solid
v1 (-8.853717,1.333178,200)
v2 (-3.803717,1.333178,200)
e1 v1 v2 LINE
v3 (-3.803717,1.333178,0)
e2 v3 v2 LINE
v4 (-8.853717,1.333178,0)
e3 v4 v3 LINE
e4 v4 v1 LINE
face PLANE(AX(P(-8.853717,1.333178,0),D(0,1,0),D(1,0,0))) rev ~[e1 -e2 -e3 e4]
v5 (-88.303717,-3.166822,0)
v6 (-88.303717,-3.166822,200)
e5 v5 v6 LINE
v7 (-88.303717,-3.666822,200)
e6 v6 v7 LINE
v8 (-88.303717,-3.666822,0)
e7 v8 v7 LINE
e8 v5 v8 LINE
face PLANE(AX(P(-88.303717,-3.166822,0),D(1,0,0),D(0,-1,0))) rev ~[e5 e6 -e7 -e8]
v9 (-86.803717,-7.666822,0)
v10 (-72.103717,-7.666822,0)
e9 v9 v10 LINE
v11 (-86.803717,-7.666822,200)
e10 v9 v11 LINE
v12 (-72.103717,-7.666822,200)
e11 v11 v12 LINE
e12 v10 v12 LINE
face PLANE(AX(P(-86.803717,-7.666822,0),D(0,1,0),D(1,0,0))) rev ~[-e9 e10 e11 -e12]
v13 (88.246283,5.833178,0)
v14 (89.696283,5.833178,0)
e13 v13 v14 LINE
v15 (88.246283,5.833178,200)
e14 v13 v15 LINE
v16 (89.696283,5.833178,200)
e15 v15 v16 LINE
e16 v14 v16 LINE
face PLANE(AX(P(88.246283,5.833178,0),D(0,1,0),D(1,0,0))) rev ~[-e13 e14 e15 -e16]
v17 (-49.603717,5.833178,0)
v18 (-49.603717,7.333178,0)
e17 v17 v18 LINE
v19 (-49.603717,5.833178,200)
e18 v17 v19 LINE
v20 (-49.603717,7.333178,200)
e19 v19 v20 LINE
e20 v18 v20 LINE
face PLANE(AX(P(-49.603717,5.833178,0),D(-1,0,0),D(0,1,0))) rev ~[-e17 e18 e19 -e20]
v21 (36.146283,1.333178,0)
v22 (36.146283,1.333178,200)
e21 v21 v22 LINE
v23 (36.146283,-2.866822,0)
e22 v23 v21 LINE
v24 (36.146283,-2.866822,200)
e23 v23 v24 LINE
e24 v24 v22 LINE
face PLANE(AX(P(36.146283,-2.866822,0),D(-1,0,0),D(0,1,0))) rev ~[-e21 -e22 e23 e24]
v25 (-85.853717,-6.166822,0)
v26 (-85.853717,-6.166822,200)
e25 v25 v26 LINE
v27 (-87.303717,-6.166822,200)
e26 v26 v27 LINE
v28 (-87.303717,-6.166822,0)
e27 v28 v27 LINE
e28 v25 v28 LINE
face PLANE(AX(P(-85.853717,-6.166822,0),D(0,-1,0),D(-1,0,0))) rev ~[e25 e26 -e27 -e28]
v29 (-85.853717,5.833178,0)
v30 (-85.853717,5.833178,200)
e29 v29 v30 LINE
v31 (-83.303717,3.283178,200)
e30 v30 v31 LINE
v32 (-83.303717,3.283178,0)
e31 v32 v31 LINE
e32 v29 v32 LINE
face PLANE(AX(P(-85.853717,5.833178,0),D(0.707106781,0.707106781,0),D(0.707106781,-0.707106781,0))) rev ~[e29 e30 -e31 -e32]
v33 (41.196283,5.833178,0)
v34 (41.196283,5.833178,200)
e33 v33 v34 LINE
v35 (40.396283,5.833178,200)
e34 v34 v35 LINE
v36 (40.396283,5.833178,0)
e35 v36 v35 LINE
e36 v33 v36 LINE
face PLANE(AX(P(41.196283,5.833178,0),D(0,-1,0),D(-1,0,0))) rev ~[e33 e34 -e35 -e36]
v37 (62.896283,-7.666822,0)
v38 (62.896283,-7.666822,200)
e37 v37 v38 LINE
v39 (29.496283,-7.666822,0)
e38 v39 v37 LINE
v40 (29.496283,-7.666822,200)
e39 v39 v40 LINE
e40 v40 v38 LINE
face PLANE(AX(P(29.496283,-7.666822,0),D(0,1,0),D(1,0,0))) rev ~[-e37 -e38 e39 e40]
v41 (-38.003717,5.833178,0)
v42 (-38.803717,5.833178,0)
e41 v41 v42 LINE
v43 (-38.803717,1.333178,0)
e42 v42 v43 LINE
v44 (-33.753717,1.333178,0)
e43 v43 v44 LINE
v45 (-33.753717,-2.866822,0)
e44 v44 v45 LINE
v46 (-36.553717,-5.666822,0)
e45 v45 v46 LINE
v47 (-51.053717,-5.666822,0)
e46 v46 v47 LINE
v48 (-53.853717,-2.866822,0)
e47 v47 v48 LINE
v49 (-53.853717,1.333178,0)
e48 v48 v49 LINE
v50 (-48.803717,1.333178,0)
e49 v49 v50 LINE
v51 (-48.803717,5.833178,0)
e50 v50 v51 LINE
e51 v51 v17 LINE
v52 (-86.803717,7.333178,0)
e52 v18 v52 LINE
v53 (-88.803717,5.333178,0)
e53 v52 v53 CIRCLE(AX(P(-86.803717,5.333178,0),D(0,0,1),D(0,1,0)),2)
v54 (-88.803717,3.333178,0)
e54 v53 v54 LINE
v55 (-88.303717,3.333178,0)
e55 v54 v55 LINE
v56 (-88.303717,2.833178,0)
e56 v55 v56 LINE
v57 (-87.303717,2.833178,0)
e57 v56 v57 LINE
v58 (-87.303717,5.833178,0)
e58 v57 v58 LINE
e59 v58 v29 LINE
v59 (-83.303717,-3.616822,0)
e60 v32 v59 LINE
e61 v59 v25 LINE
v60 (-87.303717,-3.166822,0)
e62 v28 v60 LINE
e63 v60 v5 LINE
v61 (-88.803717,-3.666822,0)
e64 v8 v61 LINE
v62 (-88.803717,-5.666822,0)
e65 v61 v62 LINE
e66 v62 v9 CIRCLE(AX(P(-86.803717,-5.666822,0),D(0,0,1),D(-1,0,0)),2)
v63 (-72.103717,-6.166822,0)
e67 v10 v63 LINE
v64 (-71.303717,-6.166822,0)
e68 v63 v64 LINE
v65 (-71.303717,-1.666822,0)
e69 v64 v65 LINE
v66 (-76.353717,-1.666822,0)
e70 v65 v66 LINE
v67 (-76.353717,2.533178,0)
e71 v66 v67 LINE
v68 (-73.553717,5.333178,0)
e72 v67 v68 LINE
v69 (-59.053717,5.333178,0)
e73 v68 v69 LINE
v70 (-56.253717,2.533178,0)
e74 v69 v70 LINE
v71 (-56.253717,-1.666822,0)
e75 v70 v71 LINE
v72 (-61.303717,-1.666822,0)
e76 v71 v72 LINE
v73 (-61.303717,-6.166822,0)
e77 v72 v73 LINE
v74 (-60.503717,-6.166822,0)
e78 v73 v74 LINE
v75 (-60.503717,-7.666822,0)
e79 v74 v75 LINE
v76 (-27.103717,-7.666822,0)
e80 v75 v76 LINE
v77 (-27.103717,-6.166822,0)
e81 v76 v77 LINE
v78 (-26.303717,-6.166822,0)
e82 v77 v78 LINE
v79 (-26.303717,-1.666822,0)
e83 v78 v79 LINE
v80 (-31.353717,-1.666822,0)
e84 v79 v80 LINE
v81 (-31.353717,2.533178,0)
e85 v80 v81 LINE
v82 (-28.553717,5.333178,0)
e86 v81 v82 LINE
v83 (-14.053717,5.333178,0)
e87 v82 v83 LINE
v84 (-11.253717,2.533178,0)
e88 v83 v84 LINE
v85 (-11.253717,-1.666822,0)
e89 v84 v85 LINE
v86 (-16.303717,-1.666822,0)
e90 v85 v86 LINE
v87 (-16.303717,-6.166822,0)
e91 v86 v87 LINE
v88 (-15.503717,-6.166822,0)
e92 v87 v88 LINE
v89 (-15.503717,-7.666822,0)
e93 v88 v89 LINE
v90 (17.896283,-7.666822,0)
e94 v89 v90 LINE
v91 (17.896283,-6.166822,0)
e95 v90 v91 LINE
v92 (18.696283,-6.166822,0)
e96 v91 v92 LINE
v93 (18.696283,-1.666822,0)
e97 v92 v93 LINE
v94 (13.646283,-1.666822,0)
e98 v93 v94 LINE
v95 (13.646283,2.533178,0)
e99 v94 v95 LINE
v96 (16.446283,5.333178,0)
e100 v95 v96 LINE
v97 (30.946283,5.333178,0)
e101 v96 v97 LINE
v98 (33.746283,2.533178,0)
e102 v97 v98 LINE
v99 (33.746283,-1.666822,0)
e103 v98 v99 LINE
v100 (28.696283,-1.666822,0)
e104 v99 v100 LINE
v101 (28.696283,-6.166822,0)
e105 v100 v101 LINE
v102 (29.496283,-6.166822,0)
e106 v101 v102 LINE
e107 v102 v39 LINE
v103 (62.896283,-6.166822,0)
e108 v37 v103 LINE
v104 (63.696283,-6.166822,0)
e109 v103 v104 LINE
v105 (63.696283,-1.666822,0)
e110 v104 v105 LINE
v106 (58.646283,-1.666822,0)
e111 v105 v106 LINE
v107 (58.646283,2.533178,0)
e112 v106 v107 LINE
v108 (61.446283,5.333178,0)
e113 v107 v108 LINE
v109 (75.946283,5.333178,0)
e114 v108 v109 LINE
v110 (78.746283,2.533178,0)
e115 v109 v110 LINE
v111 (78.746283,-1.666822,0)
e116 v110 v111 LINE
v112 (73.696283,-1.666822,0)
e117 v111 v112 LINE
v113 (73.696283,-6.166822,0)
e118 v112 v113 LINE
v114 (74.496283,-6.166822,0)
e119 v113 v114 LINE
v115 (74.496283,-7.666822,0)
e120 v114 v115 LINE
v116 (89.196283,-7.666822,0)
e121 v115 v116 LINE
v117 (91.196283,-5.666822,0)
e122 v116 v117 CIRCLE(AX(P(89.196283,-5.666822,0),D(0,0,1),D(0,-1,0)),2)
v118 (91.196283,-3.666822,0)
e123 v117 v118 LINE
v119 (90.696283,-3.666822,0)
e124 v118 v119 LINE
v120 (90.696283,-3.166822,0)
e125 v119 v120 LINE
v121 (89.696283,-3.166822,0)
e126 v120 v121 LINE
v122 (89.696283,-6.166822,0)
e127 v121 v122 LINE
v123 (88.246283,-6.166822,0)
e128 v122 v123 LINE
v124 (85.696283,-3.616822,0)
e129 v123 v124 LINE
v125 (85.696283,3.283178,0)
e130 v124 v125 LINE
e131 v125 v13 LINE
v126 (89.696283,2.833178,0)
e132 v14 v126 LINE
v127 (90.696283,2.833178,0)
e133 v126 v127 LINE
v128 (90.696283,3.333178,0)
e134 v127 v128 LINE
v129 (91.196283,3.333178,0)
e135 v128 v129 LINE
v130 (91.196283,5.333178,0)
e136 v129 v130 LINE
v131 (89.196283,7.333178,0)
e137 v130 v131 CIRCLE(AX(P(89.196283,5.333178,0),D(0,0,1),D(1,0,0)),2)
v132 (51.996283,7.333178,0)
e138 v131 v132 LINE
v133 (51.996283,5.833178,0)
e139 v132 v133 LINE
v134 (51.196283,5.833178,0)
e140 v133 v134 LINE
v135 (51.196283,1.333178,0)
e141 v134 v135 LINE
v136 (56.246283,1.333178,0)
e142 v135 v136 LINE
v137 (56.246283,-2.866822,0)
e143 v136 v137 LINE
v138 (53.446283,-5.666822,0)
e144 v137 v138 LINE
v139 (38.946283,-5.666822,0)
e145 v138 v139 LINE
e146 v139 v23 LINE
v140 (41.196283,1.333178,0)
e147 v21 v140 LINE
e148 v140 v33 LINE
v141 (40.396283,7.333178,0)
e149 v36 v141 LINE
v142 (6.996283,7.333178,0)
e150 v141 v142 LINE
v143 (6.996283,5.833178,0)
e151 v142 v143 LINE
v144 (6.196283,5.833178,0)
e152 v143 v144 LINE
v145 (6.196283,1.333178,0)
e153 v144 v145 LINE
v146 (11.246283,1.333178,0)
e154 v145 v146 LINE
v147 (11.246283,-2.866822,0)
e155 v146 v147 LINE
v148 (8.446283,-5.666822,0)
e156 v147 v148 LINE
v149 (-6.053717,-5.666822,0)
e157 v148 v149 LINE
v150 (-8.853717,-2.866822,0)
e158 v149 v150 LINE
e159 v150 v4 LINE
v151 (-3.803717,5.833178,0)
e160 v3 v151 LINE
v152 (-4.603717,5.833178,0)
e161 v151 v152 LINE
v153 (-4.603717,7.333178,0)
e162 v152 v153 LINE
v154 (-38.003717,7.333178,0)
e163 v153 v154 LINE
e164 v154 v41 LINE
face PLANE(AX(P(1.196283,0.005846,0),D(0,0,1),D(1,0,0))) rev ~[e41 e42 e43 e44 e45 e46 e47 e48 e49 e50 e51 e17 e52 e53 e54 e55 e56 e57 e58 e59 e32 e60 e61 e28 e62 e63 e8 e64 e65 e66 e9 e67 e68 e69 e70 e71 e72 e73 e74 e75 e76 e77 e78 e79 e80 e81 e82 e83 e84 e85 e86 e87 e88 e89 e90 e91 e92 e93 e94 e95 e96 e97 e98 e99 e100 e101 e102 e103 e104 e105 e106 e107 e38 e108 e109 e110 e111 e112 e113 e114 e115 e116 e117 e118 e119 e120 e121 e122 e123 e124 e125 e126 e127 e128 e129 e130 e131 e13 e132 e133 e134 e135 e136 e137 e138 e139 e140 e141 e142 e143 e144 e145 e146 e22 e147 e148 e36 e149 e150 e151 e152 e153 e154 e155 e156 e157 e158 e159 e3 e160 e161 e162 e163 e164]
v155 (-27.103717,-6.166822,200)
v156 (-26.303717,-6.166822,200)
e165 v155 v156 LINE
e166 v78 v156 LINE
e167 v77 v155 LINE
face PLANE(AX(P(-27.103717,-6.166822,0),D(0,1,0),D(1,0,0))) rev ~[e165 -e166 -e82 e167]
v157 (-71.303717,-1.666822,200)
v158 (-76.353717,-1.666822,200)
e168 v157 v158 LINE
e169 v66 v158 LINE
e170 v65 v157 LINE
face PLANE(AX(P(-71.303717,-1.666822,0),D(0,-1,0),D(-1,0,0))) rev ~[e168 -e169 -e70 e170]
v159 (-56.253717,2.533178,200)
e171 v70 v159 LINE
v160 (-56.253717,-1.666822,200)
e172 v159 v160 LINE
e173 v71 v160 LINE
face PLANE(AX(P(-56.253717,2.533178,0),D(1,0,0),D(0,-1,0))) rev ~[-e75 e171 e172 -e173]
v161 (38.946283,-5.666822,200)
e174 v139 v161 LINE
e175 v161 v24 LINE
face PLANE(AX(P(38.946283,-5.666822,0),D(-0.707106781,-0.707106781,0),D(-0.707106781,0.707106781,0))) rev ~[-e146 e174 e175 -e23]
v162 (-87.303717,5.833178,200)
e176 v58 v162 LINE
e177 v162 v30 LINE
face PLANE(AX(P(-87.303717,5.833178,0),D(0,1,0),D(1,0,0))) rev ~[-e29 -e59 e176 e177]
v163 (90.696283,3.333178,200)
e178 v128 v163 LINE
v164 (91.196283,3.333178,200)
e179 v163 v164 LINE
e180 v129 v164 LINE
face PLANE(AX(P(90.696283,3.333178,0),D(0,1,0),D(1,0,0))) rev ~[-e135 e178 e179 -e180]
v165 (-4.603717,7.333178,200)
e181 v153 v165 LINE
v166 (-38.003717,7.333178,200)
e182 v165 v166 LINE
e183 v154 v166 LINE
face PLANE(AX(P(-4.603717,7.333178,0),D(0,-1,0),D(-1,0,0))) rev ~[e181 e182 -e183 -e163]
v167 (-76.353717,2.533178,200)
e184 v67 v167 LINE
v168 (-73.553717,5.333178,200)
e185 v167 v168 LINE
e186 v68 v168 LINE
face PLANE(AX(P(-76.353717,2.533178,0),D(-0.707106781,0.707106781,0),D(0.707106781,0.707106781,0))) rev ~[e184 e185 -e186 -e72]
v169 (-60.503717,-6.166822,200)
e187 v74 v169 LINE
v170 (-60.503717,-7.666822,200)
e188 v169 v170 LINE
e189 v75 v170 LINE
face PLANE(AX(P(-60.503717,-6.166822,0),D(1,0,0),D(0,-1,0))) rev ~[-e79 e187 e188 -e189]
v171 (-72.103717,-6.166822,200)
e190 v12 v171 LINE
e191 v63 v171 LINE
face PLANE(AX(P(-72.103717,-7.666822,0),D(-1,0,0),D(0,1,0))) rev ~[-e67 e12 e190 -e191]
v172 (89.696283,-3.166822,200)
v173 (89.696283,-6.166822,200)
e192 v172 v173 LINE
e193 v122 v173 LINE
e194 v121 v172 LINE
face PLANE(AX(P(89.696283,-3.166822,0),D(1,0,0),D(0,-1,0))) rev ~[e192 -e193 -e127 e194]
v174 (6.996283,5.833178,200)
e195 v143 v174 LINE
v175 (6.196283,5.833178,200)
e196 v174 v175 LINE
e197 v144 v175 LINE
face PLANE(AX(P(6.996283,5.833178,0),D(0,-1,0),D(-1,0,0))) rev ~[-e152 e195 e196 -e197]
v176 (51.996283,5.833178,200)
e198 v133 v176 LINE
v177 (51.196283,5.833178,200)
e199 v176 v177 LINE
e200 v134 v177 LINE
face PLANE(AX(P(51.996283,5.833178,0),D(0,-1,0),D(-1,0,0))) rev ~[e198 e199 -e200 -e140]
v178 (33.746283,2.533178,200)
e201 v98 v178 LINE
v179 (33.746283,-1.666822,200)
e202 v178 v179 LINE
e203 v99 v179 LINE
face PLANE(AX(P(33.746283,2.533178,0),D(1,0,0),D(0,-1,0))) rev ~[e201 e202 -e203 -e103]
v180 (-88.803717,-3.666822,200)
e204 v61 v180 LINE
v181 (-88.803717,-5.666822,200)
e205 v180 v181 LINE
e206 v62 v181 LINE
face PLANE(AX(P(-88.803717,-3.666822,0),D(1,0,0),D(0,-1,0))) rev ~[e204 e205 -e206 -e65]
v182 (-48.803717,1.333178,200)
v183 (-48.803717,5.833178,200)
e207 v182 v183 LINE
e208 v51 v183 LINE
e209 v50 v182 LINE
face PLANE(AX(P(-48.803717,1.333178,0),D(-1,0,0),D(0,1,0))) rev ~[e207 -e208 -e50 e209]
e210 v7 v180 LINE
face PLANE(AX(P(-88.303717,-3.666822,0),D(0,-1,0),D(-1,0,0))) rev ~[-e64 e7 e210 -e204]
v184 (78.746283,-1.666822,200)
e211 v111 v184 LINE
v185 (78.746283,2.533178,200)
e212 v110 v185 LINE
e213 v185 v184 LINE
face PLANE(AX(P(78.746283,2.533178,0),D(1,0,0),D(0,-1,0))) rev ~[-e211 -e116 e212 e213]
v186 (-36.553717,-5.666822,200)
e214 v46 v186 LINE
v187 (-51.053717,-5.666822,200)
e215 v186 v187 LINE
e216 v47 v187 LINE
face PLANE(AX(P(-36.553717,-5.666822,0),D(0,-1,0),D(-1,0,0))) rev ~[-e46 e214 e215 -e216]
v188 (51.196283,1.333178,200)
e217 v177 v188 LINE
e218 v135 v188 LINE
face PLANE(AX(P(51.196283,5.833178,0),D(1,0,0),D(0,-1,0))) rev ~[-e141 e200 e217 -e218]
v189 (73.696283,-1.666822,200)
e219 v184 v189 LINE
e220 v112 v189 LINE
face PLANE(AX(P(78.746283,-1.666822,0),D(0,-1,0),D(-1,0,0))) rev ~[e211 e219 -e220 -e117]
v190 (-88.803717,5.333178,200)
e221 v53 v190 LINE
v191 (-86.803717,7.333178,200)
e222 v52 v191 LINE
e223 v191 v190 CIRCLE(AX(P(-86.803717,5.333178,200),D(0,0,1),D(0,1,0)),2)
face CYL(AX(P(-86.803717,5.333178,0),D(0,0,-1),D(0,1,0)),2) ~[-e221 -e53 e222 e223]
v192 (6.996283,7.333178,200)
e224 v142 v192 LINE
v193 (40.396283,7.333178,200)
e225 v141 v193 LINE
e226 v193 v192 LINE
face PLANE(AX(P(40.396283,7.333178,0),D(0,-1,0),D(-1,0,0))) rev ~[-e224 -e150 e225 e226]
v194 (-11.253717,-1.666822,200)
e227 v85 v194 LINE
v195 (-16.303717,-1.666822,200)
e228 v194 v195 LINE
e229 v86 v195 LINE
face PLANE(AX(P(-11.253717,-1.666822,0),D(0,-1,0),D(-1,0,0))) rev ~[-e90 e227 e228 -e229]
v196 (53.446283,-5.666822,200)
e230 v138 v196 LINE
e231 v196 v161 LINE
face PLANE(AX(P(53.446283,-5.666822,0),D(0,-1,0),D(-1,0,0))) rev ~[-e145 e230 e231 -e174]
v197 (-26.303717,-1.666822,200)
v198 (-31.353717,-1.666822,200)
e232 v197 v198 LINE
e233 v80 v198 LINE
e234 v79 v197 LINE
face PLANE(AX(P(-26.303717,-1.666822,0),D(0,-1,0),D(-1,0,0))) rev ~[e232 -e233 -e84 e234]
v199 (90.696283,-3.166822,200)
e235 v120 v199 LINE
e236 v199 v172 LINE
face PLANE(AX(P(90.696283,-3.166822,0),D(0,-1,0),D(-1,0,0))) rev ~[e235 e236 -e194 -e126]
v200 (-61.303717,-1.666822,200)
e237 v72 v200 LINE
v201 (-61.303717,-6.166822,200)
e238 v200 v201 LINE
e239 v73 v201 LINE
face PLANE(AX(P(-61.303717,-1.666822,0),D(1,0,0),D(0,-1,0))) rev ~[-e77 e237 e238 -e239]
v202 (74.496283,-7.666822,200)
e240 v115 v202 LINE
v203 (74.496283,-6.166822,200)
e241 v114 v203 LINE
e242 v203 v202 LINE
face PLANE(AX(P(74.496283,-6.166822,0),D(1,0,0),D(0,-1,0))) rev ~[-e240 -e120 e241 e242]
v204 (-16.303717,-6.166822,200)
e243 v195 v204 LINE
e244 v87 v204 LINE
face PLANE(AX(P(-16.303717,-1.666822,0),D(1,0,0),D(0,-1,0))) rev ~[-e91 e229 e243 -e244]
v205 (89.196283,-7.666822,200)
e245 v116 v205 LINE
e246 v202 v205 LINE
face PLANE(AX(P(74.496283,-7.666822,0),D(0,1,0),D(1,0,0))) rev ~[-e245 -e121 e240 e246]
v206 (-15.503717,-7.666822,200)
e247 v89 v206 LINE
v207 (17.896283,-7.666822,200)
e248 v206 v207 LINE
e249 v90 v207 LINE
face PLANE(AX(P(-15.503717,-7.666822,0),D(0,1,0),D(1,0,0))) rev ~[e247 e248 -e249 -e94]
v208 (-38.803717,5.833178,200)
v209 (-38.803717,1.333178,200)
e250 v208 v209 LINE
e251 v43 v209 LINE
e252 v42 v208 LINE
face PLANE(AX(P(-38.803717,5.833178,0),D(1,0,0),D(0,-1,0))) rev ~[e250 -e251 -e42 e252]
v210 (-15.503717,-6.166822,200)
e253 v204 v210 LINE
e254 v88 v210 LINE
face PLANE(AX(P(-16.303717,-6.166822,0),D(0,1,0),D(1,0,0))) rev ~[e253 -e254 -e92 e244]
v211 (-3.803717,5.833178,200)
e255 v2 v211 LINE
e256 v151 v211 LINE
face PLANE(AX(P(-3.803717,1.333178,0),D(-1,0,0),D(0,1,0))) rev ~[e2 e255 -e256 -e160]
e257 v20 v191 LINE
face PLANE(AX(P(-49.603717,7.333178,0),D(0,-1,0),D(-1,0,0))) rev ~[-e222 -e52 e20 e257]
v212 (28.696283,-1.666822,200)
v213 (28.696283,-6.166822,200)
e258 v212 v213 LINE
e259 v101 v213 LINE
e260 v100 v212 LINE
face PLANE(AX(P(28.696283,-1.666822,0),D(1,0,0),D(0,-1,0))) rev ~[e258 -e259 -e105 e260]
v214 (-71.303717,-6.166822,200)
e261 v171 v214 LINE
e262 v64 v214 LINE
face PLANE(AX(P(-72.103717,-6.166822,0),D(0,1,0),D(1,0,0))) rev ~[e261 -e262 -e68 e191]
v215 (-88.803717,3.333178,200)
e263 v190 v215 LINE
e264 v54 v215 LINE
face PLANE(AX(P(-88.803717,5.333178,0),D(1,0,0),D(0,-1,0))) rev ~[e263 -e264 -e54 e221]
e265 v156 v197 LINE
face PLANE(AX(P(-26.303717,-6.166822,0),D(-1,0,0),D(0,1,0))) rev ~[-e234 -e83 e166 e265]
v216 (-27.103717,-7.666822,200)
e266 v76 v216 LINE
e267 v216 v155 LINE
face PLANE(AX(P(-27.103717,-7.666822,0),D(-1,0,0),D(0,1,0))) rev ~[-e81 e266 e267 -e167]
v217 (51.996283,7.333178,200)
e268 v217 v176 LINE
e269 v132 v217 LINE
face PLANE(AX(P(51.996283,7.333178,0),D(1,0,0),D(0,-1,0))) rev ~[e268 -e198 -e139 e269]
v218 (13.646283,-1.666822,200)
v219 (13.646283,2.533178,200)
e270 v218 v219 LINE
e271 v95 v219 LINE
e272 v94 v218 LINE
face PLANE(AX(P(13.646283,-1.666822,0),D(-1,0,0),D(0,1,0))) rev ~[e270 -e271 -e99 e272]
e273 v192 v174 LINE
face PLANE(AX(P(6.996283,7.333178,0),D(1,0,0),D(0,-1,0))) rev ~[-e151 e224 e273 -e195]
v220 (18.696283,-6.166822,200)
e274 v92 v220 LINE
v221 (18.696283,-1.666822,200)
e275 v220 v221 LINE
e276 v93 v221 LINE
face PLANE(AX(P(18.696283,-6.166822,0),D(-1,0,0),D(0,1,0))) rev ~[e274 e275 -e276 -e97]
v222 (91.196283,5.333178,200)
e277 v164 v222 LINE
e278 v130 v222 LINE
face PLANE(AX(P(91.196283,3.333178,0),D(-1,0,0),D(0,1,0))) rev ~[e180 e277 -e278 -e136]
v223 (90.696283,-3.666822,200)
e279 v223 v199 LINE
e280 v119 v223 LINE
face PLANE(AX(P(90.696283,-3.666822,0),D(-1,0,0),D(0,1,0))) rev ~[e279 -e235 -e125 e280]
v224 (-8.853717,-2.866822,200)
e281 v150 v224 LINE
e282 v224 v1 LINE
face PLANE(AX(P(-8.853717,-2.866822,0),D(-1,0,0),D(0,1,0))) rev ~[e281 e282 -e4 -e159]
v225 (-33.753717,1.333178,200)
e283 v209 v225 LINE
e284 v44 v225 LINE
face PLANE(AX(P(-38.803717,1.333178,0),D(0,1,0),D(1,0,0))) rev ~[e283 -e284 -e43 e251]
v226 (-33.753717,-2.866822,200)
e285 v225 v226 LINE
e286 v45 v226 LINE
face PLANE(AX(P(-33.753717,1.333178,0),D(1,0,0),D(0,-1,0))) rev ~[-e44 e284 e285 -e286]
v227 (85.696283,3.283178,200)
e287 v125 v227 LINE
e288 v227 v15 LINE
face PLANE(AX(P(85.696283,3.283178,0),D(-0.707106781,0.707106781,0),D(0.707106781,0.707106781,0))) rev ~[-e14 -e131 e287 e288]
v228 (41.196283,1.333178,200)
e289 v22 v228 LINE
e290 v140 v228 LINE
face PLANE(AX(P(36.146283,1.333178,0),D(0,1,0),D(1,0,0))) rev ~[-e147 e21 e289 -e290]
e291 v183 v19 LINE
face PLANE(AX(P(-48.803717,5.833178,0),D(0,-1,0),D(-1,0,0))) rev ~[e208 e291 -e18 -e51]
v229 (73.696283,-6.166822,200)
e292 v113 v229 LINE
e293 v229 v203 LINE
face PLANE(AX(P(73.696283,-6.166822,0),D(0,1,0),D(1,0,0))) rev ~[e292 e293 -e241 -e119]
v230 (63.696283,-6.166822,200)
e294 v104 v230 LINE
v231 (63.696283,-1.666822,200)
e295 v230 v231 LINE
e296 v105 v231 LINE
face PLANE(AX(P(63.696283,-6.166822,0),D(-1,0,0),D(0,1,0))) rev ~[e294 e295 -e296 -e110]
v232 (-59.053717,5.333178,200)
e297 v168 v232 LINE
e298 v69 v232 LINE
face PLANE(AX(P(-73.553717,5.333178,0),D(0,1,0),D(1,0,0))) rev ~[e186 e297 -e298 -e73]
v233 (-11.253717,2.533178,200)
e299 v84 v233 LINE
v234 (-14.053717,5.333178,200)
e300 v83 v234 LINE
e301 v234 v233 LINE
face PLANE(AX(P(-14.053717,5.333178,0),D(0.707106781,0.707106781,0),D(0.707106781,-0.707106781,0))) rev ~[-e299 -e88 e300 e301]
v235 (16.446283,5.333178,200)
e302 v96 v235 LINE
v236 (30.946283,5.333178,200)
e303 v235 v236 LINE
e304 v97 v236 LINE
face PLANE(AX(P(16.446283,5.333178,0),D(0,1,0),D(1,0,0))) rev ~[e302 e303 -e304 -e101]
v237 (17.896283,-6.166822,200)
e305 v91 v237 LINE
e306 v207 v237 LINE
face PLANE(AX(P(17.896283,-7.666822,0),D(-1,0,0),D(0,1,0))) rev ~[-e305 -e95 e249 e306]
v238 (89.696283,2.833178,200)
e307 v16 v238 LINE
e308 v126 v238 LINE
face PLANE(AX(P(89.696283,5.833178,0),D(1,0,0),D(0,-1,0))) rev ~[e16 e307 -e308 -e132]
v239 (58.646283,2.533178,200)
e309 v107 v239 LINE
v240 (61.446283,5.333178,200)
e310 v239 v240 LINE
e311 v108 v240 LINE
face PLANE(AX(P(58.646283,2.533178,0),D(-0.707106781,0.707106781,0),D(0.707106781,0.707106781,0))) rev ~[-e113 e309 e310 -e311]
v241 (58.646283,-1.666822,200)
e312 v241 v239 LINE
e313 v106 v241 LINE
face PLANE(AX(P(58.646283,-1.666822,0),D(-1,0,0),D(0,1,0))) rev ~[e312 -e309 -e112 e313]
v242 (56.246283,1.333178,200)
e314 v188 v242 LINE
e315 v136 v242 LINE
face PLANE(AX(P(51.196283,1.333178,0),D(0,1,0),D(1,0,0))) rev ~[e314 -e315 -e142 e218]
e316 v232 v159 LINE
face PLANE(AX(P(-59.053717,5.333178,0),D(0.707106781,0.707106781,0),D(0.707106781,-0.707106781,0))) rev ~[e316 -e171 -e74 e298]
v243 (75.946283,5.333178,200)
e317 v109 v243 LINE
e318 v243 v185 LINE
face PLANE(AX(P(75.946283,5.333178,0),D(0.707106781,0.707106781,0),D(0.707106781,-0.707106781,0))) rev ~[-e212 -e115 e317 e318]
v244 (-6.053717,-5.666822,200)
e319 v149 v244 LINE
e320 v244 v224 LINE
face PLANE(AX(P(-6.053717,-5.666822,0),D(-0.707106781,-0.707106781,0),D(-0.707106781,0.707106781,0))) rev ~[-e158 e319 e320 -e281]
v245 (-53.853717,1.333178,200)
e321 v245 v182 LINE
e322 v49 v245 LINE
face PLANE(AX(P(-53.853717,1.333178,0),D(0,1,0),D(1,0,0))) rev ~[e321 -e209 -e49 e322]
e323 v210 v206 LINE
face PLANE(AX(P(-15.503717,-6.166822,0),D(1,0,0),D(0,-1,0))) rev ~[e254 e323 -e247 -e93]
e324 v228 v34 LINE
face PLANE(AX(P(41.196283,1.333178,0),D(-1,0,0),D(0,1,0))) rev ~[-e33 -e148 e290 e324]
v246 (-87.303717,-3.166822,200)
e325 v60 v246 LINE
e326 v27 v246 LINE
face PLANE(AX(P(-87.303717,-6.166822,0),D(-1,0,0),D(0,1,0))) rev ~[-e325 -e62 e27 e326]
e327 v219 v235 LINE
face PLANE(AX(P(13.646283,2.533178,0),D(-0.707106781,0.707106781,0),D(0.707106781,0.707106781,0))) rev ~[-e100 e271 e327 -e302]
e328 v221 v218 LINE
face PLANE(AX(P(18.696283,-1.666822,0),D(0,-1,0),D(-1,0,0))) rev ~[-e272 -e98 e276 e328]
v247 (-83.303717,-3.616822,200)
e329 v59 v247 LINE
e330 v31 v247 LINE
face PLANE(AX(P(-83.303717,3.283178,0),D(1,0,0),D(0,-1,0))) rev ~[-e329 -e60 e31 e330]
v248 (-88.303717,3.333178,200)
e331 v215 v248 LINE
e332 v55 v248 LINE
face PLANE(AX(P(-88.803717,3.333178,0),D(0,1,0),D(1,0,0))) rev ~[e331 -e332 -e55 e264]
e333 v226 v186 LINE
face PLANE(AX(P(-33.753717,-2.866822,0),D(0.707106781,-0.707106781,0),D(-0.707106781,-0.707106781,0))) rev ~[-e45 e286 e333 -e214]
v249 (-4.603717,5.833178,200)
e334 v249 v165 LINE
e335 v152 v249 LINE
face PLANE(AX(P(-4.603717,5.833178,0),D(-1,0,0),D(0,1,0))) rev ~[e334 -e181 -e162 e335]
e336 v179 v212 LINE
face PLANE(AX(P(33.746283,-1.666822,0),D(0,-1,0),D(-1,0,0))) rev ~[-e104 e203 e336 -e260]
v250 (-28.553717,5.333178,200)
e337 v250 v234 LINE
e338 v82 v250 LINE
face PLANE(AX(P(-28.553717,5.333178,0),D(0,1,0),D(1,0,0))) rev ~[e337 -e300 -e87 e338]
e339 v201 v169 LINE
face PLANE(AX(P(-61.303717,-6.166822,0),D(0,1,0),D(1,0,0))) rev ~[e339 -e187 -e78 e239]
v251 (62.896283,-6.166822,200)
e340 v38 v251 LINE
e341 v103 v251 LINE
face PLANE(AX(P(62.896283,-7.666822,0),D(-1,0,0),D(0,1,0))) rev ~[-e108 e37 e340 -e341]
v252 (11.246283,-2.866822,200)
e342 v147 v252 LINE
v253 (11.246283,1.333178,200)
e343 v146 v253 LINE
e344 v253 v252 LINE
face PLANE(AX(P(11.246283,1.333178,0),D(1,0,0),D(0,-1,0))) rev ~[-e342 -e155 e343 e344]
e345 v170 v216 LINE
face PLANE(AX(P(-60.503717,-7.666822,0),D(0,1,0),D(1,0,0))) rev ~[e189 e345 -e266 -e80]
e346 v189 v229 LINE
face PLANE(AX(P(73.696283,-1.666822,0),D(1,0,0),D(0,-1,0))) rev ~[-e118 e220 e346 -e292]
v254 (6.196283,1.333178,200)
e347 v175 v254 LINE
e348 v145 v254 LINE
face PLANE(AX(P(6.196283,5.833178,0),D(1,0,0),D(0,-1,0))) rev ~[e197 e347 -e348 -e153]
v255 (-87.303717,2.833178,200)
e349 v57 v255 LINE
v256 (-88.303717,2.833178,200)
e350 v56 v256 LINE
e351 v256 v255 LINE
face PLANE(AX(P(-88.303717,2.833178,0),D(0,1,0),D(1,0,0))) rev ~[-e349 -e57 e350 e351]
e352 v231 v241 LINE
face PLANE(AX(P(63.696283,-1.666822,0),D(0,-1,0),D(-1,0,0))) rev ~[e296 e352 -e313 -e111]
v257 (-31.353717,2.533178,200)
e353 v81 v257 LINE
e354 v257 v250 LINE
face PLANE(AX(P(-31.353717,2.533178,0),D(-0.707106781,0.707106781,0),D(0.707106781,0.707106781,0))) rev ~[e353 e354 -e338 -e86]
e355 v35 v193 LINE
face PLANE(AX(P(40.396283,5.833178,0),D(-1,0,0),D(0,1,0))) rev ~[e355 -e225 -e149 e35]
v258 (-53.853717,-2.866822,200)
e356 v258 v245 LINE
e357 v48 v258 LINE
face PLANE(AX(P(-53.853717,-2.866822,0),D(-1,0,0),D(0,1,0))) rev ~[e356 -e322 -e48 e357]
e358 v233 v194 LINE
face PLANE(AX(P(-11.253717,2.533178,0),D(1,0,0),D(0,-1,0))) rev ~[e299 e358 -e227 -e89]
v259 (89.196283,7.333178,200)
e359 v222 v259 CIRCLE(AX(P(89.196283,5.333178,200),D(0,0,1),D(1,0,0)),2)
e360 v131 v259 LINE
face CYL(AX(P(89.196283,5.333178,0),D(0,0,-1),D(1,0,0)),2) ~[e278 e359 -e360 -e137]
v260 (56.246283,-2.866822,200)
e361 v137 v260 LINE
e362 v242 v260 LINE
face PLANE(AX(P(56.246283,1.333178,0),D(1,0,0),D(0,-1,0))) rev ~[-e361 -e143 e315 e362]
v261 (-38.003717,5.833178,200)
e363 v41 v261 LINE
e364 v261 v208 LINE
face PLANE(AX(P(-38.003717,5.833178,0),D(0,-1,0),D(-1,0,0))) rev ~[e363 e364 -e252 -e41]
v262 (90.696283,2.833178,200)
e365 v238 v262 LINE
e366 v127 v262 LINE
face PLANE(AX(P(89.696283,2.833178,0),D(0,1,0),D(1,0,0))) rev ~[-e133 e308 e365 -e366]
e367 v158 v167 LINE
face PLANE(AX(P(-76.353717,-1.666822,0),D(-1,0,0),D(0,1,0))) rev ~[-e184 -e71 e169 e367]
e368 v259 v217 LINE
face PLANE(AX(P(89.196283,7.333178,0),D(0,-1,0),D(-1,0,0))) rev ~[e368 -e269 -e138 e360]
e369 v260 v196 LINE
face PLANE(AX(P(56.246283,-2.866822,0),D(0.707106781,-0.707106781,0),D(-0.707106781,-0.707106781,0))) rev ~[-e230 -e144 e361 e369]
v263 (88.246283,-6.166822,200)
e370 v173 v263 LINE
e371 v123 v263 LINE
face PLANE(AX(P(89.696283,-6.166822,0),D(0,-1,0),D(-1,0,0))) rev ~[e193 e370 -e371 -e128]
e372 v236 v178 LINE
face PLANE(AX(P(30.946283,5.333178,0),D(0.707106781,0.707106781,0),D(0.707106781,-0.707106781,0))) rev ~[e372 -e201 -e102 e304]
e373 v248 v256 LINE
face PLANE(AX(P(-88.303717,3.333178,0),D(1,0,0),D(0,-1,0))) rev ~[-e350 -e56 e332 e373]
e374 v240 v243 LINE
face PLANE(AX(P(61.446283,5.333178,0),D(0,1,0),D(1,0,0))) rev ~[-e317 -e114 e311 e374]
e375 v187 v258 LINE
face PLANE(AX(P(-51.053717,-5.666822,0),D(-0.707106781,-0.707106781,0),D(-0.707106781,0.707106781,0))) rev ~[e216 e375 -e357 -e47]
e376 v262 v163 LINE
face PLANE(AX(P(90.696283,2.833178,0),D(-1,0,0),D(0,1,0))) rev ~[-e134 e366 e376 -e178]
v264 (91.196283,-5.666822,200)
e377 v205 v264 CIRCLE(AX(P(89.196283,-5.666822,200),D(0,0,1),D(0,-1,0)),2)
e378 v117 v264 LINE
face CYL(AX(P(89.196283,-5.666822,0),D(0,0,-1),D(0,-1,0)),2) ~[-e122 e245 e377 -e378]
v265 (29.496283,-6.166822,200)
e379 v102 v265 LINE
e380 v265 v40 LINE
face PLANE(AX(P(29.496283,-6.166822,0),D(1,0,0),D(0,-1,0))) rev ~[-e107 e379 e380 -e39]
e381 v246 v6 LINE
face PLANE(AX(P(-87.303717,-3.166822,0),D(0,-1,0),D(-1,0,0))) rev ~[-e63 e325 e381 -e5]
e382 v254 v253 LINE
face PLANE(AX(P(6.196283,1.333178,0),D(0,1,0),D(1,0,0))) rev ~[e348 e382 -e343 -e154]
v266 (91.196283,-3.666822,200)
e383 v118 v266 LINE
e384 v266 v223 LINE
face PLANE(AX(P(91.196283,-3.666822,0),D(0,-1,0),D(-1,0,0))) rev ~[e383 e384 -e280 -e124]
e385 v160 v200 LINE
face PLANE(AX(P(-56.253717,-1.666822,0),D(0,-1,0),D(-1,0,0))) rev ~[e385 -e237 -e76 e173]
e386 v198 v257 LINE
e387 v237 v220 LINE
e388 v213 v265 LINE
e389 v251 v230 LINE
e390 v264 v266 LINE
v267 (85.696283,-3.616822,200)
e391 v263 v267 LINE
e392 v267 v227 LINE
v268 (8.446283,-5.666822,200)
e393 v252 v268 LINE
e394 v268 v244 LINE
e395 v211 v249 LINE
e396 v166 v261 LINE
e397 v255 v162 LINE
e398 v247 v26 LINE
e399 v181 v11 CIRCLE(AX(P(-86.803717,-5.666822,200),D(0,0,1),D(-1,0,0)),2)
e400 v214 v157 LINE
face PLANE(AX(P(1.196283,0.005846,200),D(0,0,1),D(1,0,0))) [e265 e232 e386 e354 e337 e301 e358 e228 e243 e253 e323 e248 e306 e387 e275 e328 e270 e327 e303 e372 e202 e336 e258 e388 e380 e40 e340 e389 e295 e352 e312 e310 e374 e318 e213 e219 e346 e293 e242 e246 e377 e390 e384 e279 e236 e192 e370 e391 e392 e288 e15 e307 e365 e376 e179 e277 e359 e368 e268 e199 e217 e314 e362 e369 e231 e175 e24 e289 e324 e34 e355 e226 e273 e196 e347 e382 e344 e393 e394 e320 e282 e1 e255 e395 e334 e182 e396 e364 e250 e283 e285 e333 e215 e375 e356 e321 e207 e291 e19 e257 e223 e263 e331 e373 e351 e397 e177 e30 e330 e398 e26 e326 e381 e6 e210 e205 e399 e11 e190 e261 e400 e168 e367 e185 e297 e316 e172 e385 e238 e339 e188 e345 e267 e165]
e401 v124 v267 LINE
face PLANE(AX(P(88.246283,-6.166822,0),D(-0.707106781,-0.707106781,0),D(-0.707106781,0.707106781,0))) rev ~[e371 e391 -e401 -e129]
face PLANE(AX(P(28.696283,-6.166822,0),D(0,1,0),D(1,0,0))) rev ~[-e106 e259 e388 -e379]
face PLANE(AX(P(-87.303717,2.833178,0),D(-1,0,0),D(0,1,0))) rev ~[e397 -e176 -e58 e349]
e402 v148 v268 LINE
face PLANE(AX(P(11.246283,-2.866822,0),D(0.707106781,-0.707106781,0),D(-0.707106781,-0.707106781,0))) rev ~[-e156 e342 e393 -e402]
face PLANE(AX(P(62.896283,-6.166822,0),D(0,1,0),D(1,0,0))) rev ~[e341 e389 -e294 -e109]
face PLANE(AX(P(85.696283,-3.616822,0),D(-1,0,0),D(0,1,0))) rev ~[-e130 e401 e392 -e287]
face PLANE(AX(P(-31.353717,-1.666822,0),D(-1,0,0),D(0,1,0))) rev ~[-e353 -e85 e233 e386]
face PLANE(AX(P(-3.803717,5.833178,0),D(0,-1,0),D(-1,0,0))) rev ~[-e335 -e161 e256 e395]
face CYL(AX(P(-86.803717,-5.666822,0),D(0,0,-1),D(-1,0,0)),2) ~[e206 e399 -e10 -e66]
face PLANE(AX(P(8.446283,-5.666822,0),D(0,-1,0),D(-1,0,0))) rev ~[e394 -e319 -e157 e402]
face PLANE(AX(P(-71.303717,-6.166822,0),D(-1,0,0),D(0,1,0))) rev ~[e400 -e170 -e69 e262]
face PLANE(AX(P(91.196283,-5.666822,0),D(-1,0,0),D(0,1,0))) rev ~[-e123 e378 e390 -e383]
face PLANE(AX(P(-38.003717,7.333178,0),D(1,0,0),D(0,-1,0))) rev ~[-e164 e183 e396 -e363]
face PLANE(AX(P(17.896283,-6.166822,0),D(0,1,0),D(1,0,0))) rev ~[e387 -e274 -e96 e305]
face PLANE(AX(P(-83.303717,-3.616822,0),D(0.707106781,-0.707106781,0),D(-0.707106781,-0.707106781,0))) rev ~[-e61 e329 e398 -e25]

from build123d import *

# Parameters (mm, degrees)
EXTRUDE_1_DEPTH = 200


with BuildPart() as part:
    # Эскиз1 → Бобышка-Вытянуть1 (new body)
    with BuildSketch(Plane.XY):
        with BuildLine():
            Line((-85.853717104, -6.166822364), (-87.303717104, -6.166822364))
            Line((-87.303717104, -6.166822364), (-87.303717104, -3.166822364))
            Line((-87.303717104, -3.166822364), (-88.303717104, -3.166822364))
            Line((-88.303717104, -3.166822364), (-88.303717104, -3.666822364))
            Line((-88.303717104, -3.666822364), (-88.803717104, -3.666822364))
            Line((-88.803717104, -3.666822364), (-88.803717104, -5.666822356))
            ThreePointArc((-88.803717104, -5.666822356), (-88.217930664, -7.081035924), (-86.803717096, -7.666822364))
            Line((-86.803717096, -7.666822364), (-72.103717104, -7.666822364))
            Line((-72.103717104, -7.666822364), (-72.103717104, -6.166822364))
            Line((-72.103717104, -6.166822364), (-71.303717104, -6.166822364))
            Line((-71.303717104, -6.166822364), (-71.303717104, -1.666822364))
            Line((-71.303717104, -1.666822364), (-76.353717104, -1.666822364))
            Line((-76.353717104, -1.666822364), (-76.353717104, 2.533177636))
            Line((-76.353717104, 2.533177636), (-73.553717104, 5.333177636))
            Line((-73.553717104, 5.333177636), (-59.053717104, 5.333177636))
            Line((-59.053717104, 5.333177636), (-56.253717104, 2.533177636))
            Line((-56.253717104, 2.533177636), (-56.253717104, -1.666822364))
            Line((-56.253717104, -1.666822364), (-61.303717104, -1.666822364))
            Line((-61.303717104, -1.666822364), (-61.303717104, -6.166822364))
            Line((-61.303717104, -6.166822364), (-60.503717104, -6.166822364))
            Line((-60.503717104, -6.166822364), (-60.503717104, -7.666822364))
            Line((-60.503717104, -7.666822364), (-27.103717104, -7.666822364))
            Line((-27.103717104, -7.666822364), (-27.103717104, -6.166822364))
            Line((-27.103717104, -6.166822364), (-26.303717104, -6.166822364))
            Line((-26.303717104, -6.166822364), (-26.303717104, -1.666822364))
            Line((-26.303717104, -1.666822364), (-31.353717104, -1.666822364))
            Line((-31.353717104, -1.666822364), (-31.353717104, 2.533177636))
            Line((-31.353717104, 2.533177636), (-28.553717104, 5.333177636))
            Line((-28.553717104, 5.333177636), (-14.053717104, 5.333177636))
            Line((-14.053717104, 5.333177636), (-11.253717104, 2.533177636))
            Line((-11.253717104, 2.533177636), (-11.253717104, -1.666822364))
            Line((-11.253717104, -1.666822364), (-16.303717104, -1.666822364))
            Line((-16.303717104, -1.666822364), (-16.303717104, -6.166822364))
            Line((-16.303717104, -6.166822364), (-15.503717104, -6.166822364))
            Line((-15.503717104, -6.166822364), (-15.503717104, -7.666822364))
            Line((-15.503717104, -7.666822364), (17.896282896, -7.666822364))
            Line((17.896282896, -7.666822364), (17.896282896, -6.166822364))
            Line((17.896282896, -6.166822364), (18.696282896, -6.166822364))
            Line((18.696282896, -6.166822364), (18.696282896, -1.666822364))
            Line((18.696282896, -1.666822364), (13.646282896, -1.666822364))
            Line((13.646282896, -1.666822364), (13.646282896, 2.533177636))
            Line((13.646282896, 2.533177636), (16.446282896, 5.333177636))
            Line((16.446282896, 5.333177636), (30.946282896, 5.333177636))
            Line((30.946282896, 5.333177636), (33.746282896, 2.533177636))
            Line((33.746282896, 2.533177636), (33.746282896, -1.666822364))
            Line((33.746282896, -1.666822364), (28.696282896, -1.666822364))
            Line((28.696282896, -1.666822364), (28.696282896, -6.166822364))
            Line((28.696282896, -6.166822364), (29.496282896, -6.166822364))
            Line((29.496282896, -6.166822364), (29.496282896, -7.666822364))
            Line((29.496282896, -7.666822364), (62.896282896, -7.666822364))
            Line((62.896282896, -7.666822364), (62.896282896, -6.166822364))
            Line((62.896282896, -6.166822364), (63.696282896, -6.166822364))
            Line((63.696282896, -6.166822364), (63.696282896, -1.666822364))
            Line((63.696282896, -1.666822364), (58.646282896, -1.666822364))
            Line((58.646282896, -1.666822364), (58.646282896, 2.533177636))
            Line((58.646282896, 2.533177636), (61.446282896, 5.333177636))
            Line((61.446282896, 5.333177636), (75.946282896, 5.333177636))
            Line((75.946282896, 5.333177636), (78.746282896, 2.533177636))
            Line((78.746282896, 2.533177636), (78.746282896, -1.666822364))
            Line((78.746282896, -1.666822364), (73.696282896, -1.666822364))
            Line((73.696282896, -1.666822364), (73.696282896, -6.166822364))
            Line((73.696282896, -6.166822364), (74.496282896, -6.166822364))
            Line((74.496282896, -6.166822364), (74.496282896, -7.666822364))
            Line((74.496282896, -7.666822364), (89.196282888, -7.666822364))
            ThreePointArc((89.196282888, -7.666822364), (90.610496456, -7.081035924), (91.196282896, -5.666822356))
            Line((91.196282896, -5.666822356), (91.196282896, -3.666822364))
            Line((91.196282896, -3.666822364), (90.696282896, -3.666822364))
            Line((90.696282896, -3.666822364), (90.696282896, -3.166822364))
            Line((90.696282896, -3.166822364), (89.696282896, -3.166822364))
            Line((89.696282896, -3.166822364), (89.696282896, -6.166822364))
            Line((89.696282896, -6.166822364), (88.246282896, -6.166822364))
            Line((88.246282896, -6.166822364), (85.696282896, -3.616822364))
            Line((85.696282896, -3.616822364), (85.696282896, 3.283177636))
            Line((85.696282896, 3.283177636), (88.246282896, 5.833177636))
            Line((88.246282896, 5.833177636), (89.696282896, 5.833177636))
            Line((89.696282896, 5.833177636), (89.696282896, 2.833177636))
            Line((89.696282896, 2.833177636), (90.696282896, 2.833177636))
            Line((90.696282896, 2.833177636), (90.696282896, 3.333177636))
            Line((90.696282896, 3.333177636), (91.196282896, 3.333177636))
            Line((91.196282896, 3.333177636), (91.196282896, 5.333177628))
            ThreePointArc((91.196282896, 5.333177628), (90.610496456, 6.747391196), (89.196282888, 7.333177636))
            Line((89.196282888, 7.333177636), (51.996282896, 7.333177636))
            Line((51.996282896, 7.333177636), (51.996282896, 5.833177636))
            Line((51.996282896, 5.833177636), (51.196282898, 5.833177636))
            Line((51.196282898, 5.833177636), (51.196282898, 1.333177634))
            Line((51.196282898, 1.333177634), (56.246282898, 1.333177634))
            Line((56.246282898, 1.333177634), (56.246282898, -2.866822366))
            Line((56.246282898, -2.866822366), (53.446282898, -5.666822366))
            Line((53.446282898, -5.666822366), (38.946282898, -5.666822366))
            Line((38.946282898, -5.666822366), (36.146282898, -2.866822366))
            Line((36.146282898, -2.866822366), (36.146282898, 1.333177634))
            Line((36.146282898, 1.333177634), (41.196282898, 1.333177634))
            Line((41.196282898, 1.333177634), (41.196282898, 5.833177636))
            Line((41.196282898, 5.833177636), (40.396282896, 5.833177636))
            Line((40.396282896, 5.833177636), (40.396282896, 7.333177636))
            Line((40.396282896, 7.333177636), (6.996282896, 7.333177636))
            Line((6.996282896, 7.333177636), (6.996282896, 5.833177636))
            Line((6.996282896, 5.833177636), (6.196282898, 5.833177636))
            Line((6.196282898, 5.833177636), (6.196282898, 1.333177634))
            Line((6.196282898, 1.333177634), (11.246282898, 1.333177634))
            Line((11.246282898, 1.333177634), (11.246282898, -2.866822366))
            Line((11.246282898, -2.866822366), (8.446282898, -5.666822366))
            Line((8.446282898, -5.666822366), (-6.053717102, -5.666822366))
            Line((-6.053717102, -5.666822366), (-8.853717102, -2.866822366))
            Line((-8.853717102, -2.866822366), (-8.853717102, 1.333177634))
            Line((-8.853717102, 1.333177634), (-3.803717102, 1.333177634))
            Line((-3.803717102, 1.333177634), (-3.803717102, 5.833177636))
            Line((-3.803717102, 5.833177636), (-4.603717104, 5.833177636))
            Line((-4.603717104, 5.833177636), (-4.603717104, 7.333177636))
            Line((-4.603717104, 7.333177636), (-38.003717104, 7.333177636))
            Line((-38.003717104, 7.333177636), (-38.003717104, 5.833177636))
            Line((-38.003717104, 5.833177636), (-38.803717102, 5.833177636))
            Line((-38.803717102, 5.833177636), (-38.803717102, 1.333177634))
            Line((-38.803717102, 1.333177634), (-33.753717102, 1.333177634))
            Line((-33.753717102, 1.333177634), (-33.753717102, -2.866822366))
            Line((-33.753717102, -2.866822366), (-36.553717102, -5.666822366))
            Line((-36.553717102, -5.666822366), (-51.053717102, -5.666822366))
            Line((-51.053717102, -5.666822366), (-53.853717102, -2.866822366))
            Line((-53.853717102, -2.866822366), (-53.853717102, 1.333177634))
            Line((-53.853717102, 1.333177634), (-48.803717102, 1.333177634))
            Line((-48.803717102, 1.333177634), (-48.803717102, 5.833177636))
            Line((-48.803717102, 5.833177636), (-49.603717104, 5.833177636))
            Line((-49.603717104, 5.833177636), (-49.603717104, 7.333177636))
            Line((-49.603717104, 7.333177636), (-86.803717096, 7.333177636))
            ThreePointArc((-86.803717096, 7.333177636), (-88.217930664, 6.747391196), (-88.803717104, 5.333177628))
            Line((-88.803717104, 5.333177628), (-88.803717104, 3.333177636))
            Line((-88.803717104, 3.333177636), (-88.303717104, 3.333177636))
            Line((-88.303717104, 3.333177636), (-88.303717104, 2.833177636))
            Line((-88.303717104, 2.833177636), (-87.303717104, 2.833177636))
            Line((-87.303717104, 2.833177636), (-87.303717104, 5.833177636))
            Line((-87.303717104, 5.833177636), (-85.853717104, 5.833177636))
            Line((-85.853717104, 5.833177636), (-83.303717104, 3.283177636))
            Line((-83.303717104, 3.283177636), (-83.303717104, -3.616822364))
            Line((-83.303717104, -3.616822364), (-85.853717104, -6.166822364))
        make_face()
    extrude(amount=EXTRUDE_1_DEPTH)


solid = part.part
